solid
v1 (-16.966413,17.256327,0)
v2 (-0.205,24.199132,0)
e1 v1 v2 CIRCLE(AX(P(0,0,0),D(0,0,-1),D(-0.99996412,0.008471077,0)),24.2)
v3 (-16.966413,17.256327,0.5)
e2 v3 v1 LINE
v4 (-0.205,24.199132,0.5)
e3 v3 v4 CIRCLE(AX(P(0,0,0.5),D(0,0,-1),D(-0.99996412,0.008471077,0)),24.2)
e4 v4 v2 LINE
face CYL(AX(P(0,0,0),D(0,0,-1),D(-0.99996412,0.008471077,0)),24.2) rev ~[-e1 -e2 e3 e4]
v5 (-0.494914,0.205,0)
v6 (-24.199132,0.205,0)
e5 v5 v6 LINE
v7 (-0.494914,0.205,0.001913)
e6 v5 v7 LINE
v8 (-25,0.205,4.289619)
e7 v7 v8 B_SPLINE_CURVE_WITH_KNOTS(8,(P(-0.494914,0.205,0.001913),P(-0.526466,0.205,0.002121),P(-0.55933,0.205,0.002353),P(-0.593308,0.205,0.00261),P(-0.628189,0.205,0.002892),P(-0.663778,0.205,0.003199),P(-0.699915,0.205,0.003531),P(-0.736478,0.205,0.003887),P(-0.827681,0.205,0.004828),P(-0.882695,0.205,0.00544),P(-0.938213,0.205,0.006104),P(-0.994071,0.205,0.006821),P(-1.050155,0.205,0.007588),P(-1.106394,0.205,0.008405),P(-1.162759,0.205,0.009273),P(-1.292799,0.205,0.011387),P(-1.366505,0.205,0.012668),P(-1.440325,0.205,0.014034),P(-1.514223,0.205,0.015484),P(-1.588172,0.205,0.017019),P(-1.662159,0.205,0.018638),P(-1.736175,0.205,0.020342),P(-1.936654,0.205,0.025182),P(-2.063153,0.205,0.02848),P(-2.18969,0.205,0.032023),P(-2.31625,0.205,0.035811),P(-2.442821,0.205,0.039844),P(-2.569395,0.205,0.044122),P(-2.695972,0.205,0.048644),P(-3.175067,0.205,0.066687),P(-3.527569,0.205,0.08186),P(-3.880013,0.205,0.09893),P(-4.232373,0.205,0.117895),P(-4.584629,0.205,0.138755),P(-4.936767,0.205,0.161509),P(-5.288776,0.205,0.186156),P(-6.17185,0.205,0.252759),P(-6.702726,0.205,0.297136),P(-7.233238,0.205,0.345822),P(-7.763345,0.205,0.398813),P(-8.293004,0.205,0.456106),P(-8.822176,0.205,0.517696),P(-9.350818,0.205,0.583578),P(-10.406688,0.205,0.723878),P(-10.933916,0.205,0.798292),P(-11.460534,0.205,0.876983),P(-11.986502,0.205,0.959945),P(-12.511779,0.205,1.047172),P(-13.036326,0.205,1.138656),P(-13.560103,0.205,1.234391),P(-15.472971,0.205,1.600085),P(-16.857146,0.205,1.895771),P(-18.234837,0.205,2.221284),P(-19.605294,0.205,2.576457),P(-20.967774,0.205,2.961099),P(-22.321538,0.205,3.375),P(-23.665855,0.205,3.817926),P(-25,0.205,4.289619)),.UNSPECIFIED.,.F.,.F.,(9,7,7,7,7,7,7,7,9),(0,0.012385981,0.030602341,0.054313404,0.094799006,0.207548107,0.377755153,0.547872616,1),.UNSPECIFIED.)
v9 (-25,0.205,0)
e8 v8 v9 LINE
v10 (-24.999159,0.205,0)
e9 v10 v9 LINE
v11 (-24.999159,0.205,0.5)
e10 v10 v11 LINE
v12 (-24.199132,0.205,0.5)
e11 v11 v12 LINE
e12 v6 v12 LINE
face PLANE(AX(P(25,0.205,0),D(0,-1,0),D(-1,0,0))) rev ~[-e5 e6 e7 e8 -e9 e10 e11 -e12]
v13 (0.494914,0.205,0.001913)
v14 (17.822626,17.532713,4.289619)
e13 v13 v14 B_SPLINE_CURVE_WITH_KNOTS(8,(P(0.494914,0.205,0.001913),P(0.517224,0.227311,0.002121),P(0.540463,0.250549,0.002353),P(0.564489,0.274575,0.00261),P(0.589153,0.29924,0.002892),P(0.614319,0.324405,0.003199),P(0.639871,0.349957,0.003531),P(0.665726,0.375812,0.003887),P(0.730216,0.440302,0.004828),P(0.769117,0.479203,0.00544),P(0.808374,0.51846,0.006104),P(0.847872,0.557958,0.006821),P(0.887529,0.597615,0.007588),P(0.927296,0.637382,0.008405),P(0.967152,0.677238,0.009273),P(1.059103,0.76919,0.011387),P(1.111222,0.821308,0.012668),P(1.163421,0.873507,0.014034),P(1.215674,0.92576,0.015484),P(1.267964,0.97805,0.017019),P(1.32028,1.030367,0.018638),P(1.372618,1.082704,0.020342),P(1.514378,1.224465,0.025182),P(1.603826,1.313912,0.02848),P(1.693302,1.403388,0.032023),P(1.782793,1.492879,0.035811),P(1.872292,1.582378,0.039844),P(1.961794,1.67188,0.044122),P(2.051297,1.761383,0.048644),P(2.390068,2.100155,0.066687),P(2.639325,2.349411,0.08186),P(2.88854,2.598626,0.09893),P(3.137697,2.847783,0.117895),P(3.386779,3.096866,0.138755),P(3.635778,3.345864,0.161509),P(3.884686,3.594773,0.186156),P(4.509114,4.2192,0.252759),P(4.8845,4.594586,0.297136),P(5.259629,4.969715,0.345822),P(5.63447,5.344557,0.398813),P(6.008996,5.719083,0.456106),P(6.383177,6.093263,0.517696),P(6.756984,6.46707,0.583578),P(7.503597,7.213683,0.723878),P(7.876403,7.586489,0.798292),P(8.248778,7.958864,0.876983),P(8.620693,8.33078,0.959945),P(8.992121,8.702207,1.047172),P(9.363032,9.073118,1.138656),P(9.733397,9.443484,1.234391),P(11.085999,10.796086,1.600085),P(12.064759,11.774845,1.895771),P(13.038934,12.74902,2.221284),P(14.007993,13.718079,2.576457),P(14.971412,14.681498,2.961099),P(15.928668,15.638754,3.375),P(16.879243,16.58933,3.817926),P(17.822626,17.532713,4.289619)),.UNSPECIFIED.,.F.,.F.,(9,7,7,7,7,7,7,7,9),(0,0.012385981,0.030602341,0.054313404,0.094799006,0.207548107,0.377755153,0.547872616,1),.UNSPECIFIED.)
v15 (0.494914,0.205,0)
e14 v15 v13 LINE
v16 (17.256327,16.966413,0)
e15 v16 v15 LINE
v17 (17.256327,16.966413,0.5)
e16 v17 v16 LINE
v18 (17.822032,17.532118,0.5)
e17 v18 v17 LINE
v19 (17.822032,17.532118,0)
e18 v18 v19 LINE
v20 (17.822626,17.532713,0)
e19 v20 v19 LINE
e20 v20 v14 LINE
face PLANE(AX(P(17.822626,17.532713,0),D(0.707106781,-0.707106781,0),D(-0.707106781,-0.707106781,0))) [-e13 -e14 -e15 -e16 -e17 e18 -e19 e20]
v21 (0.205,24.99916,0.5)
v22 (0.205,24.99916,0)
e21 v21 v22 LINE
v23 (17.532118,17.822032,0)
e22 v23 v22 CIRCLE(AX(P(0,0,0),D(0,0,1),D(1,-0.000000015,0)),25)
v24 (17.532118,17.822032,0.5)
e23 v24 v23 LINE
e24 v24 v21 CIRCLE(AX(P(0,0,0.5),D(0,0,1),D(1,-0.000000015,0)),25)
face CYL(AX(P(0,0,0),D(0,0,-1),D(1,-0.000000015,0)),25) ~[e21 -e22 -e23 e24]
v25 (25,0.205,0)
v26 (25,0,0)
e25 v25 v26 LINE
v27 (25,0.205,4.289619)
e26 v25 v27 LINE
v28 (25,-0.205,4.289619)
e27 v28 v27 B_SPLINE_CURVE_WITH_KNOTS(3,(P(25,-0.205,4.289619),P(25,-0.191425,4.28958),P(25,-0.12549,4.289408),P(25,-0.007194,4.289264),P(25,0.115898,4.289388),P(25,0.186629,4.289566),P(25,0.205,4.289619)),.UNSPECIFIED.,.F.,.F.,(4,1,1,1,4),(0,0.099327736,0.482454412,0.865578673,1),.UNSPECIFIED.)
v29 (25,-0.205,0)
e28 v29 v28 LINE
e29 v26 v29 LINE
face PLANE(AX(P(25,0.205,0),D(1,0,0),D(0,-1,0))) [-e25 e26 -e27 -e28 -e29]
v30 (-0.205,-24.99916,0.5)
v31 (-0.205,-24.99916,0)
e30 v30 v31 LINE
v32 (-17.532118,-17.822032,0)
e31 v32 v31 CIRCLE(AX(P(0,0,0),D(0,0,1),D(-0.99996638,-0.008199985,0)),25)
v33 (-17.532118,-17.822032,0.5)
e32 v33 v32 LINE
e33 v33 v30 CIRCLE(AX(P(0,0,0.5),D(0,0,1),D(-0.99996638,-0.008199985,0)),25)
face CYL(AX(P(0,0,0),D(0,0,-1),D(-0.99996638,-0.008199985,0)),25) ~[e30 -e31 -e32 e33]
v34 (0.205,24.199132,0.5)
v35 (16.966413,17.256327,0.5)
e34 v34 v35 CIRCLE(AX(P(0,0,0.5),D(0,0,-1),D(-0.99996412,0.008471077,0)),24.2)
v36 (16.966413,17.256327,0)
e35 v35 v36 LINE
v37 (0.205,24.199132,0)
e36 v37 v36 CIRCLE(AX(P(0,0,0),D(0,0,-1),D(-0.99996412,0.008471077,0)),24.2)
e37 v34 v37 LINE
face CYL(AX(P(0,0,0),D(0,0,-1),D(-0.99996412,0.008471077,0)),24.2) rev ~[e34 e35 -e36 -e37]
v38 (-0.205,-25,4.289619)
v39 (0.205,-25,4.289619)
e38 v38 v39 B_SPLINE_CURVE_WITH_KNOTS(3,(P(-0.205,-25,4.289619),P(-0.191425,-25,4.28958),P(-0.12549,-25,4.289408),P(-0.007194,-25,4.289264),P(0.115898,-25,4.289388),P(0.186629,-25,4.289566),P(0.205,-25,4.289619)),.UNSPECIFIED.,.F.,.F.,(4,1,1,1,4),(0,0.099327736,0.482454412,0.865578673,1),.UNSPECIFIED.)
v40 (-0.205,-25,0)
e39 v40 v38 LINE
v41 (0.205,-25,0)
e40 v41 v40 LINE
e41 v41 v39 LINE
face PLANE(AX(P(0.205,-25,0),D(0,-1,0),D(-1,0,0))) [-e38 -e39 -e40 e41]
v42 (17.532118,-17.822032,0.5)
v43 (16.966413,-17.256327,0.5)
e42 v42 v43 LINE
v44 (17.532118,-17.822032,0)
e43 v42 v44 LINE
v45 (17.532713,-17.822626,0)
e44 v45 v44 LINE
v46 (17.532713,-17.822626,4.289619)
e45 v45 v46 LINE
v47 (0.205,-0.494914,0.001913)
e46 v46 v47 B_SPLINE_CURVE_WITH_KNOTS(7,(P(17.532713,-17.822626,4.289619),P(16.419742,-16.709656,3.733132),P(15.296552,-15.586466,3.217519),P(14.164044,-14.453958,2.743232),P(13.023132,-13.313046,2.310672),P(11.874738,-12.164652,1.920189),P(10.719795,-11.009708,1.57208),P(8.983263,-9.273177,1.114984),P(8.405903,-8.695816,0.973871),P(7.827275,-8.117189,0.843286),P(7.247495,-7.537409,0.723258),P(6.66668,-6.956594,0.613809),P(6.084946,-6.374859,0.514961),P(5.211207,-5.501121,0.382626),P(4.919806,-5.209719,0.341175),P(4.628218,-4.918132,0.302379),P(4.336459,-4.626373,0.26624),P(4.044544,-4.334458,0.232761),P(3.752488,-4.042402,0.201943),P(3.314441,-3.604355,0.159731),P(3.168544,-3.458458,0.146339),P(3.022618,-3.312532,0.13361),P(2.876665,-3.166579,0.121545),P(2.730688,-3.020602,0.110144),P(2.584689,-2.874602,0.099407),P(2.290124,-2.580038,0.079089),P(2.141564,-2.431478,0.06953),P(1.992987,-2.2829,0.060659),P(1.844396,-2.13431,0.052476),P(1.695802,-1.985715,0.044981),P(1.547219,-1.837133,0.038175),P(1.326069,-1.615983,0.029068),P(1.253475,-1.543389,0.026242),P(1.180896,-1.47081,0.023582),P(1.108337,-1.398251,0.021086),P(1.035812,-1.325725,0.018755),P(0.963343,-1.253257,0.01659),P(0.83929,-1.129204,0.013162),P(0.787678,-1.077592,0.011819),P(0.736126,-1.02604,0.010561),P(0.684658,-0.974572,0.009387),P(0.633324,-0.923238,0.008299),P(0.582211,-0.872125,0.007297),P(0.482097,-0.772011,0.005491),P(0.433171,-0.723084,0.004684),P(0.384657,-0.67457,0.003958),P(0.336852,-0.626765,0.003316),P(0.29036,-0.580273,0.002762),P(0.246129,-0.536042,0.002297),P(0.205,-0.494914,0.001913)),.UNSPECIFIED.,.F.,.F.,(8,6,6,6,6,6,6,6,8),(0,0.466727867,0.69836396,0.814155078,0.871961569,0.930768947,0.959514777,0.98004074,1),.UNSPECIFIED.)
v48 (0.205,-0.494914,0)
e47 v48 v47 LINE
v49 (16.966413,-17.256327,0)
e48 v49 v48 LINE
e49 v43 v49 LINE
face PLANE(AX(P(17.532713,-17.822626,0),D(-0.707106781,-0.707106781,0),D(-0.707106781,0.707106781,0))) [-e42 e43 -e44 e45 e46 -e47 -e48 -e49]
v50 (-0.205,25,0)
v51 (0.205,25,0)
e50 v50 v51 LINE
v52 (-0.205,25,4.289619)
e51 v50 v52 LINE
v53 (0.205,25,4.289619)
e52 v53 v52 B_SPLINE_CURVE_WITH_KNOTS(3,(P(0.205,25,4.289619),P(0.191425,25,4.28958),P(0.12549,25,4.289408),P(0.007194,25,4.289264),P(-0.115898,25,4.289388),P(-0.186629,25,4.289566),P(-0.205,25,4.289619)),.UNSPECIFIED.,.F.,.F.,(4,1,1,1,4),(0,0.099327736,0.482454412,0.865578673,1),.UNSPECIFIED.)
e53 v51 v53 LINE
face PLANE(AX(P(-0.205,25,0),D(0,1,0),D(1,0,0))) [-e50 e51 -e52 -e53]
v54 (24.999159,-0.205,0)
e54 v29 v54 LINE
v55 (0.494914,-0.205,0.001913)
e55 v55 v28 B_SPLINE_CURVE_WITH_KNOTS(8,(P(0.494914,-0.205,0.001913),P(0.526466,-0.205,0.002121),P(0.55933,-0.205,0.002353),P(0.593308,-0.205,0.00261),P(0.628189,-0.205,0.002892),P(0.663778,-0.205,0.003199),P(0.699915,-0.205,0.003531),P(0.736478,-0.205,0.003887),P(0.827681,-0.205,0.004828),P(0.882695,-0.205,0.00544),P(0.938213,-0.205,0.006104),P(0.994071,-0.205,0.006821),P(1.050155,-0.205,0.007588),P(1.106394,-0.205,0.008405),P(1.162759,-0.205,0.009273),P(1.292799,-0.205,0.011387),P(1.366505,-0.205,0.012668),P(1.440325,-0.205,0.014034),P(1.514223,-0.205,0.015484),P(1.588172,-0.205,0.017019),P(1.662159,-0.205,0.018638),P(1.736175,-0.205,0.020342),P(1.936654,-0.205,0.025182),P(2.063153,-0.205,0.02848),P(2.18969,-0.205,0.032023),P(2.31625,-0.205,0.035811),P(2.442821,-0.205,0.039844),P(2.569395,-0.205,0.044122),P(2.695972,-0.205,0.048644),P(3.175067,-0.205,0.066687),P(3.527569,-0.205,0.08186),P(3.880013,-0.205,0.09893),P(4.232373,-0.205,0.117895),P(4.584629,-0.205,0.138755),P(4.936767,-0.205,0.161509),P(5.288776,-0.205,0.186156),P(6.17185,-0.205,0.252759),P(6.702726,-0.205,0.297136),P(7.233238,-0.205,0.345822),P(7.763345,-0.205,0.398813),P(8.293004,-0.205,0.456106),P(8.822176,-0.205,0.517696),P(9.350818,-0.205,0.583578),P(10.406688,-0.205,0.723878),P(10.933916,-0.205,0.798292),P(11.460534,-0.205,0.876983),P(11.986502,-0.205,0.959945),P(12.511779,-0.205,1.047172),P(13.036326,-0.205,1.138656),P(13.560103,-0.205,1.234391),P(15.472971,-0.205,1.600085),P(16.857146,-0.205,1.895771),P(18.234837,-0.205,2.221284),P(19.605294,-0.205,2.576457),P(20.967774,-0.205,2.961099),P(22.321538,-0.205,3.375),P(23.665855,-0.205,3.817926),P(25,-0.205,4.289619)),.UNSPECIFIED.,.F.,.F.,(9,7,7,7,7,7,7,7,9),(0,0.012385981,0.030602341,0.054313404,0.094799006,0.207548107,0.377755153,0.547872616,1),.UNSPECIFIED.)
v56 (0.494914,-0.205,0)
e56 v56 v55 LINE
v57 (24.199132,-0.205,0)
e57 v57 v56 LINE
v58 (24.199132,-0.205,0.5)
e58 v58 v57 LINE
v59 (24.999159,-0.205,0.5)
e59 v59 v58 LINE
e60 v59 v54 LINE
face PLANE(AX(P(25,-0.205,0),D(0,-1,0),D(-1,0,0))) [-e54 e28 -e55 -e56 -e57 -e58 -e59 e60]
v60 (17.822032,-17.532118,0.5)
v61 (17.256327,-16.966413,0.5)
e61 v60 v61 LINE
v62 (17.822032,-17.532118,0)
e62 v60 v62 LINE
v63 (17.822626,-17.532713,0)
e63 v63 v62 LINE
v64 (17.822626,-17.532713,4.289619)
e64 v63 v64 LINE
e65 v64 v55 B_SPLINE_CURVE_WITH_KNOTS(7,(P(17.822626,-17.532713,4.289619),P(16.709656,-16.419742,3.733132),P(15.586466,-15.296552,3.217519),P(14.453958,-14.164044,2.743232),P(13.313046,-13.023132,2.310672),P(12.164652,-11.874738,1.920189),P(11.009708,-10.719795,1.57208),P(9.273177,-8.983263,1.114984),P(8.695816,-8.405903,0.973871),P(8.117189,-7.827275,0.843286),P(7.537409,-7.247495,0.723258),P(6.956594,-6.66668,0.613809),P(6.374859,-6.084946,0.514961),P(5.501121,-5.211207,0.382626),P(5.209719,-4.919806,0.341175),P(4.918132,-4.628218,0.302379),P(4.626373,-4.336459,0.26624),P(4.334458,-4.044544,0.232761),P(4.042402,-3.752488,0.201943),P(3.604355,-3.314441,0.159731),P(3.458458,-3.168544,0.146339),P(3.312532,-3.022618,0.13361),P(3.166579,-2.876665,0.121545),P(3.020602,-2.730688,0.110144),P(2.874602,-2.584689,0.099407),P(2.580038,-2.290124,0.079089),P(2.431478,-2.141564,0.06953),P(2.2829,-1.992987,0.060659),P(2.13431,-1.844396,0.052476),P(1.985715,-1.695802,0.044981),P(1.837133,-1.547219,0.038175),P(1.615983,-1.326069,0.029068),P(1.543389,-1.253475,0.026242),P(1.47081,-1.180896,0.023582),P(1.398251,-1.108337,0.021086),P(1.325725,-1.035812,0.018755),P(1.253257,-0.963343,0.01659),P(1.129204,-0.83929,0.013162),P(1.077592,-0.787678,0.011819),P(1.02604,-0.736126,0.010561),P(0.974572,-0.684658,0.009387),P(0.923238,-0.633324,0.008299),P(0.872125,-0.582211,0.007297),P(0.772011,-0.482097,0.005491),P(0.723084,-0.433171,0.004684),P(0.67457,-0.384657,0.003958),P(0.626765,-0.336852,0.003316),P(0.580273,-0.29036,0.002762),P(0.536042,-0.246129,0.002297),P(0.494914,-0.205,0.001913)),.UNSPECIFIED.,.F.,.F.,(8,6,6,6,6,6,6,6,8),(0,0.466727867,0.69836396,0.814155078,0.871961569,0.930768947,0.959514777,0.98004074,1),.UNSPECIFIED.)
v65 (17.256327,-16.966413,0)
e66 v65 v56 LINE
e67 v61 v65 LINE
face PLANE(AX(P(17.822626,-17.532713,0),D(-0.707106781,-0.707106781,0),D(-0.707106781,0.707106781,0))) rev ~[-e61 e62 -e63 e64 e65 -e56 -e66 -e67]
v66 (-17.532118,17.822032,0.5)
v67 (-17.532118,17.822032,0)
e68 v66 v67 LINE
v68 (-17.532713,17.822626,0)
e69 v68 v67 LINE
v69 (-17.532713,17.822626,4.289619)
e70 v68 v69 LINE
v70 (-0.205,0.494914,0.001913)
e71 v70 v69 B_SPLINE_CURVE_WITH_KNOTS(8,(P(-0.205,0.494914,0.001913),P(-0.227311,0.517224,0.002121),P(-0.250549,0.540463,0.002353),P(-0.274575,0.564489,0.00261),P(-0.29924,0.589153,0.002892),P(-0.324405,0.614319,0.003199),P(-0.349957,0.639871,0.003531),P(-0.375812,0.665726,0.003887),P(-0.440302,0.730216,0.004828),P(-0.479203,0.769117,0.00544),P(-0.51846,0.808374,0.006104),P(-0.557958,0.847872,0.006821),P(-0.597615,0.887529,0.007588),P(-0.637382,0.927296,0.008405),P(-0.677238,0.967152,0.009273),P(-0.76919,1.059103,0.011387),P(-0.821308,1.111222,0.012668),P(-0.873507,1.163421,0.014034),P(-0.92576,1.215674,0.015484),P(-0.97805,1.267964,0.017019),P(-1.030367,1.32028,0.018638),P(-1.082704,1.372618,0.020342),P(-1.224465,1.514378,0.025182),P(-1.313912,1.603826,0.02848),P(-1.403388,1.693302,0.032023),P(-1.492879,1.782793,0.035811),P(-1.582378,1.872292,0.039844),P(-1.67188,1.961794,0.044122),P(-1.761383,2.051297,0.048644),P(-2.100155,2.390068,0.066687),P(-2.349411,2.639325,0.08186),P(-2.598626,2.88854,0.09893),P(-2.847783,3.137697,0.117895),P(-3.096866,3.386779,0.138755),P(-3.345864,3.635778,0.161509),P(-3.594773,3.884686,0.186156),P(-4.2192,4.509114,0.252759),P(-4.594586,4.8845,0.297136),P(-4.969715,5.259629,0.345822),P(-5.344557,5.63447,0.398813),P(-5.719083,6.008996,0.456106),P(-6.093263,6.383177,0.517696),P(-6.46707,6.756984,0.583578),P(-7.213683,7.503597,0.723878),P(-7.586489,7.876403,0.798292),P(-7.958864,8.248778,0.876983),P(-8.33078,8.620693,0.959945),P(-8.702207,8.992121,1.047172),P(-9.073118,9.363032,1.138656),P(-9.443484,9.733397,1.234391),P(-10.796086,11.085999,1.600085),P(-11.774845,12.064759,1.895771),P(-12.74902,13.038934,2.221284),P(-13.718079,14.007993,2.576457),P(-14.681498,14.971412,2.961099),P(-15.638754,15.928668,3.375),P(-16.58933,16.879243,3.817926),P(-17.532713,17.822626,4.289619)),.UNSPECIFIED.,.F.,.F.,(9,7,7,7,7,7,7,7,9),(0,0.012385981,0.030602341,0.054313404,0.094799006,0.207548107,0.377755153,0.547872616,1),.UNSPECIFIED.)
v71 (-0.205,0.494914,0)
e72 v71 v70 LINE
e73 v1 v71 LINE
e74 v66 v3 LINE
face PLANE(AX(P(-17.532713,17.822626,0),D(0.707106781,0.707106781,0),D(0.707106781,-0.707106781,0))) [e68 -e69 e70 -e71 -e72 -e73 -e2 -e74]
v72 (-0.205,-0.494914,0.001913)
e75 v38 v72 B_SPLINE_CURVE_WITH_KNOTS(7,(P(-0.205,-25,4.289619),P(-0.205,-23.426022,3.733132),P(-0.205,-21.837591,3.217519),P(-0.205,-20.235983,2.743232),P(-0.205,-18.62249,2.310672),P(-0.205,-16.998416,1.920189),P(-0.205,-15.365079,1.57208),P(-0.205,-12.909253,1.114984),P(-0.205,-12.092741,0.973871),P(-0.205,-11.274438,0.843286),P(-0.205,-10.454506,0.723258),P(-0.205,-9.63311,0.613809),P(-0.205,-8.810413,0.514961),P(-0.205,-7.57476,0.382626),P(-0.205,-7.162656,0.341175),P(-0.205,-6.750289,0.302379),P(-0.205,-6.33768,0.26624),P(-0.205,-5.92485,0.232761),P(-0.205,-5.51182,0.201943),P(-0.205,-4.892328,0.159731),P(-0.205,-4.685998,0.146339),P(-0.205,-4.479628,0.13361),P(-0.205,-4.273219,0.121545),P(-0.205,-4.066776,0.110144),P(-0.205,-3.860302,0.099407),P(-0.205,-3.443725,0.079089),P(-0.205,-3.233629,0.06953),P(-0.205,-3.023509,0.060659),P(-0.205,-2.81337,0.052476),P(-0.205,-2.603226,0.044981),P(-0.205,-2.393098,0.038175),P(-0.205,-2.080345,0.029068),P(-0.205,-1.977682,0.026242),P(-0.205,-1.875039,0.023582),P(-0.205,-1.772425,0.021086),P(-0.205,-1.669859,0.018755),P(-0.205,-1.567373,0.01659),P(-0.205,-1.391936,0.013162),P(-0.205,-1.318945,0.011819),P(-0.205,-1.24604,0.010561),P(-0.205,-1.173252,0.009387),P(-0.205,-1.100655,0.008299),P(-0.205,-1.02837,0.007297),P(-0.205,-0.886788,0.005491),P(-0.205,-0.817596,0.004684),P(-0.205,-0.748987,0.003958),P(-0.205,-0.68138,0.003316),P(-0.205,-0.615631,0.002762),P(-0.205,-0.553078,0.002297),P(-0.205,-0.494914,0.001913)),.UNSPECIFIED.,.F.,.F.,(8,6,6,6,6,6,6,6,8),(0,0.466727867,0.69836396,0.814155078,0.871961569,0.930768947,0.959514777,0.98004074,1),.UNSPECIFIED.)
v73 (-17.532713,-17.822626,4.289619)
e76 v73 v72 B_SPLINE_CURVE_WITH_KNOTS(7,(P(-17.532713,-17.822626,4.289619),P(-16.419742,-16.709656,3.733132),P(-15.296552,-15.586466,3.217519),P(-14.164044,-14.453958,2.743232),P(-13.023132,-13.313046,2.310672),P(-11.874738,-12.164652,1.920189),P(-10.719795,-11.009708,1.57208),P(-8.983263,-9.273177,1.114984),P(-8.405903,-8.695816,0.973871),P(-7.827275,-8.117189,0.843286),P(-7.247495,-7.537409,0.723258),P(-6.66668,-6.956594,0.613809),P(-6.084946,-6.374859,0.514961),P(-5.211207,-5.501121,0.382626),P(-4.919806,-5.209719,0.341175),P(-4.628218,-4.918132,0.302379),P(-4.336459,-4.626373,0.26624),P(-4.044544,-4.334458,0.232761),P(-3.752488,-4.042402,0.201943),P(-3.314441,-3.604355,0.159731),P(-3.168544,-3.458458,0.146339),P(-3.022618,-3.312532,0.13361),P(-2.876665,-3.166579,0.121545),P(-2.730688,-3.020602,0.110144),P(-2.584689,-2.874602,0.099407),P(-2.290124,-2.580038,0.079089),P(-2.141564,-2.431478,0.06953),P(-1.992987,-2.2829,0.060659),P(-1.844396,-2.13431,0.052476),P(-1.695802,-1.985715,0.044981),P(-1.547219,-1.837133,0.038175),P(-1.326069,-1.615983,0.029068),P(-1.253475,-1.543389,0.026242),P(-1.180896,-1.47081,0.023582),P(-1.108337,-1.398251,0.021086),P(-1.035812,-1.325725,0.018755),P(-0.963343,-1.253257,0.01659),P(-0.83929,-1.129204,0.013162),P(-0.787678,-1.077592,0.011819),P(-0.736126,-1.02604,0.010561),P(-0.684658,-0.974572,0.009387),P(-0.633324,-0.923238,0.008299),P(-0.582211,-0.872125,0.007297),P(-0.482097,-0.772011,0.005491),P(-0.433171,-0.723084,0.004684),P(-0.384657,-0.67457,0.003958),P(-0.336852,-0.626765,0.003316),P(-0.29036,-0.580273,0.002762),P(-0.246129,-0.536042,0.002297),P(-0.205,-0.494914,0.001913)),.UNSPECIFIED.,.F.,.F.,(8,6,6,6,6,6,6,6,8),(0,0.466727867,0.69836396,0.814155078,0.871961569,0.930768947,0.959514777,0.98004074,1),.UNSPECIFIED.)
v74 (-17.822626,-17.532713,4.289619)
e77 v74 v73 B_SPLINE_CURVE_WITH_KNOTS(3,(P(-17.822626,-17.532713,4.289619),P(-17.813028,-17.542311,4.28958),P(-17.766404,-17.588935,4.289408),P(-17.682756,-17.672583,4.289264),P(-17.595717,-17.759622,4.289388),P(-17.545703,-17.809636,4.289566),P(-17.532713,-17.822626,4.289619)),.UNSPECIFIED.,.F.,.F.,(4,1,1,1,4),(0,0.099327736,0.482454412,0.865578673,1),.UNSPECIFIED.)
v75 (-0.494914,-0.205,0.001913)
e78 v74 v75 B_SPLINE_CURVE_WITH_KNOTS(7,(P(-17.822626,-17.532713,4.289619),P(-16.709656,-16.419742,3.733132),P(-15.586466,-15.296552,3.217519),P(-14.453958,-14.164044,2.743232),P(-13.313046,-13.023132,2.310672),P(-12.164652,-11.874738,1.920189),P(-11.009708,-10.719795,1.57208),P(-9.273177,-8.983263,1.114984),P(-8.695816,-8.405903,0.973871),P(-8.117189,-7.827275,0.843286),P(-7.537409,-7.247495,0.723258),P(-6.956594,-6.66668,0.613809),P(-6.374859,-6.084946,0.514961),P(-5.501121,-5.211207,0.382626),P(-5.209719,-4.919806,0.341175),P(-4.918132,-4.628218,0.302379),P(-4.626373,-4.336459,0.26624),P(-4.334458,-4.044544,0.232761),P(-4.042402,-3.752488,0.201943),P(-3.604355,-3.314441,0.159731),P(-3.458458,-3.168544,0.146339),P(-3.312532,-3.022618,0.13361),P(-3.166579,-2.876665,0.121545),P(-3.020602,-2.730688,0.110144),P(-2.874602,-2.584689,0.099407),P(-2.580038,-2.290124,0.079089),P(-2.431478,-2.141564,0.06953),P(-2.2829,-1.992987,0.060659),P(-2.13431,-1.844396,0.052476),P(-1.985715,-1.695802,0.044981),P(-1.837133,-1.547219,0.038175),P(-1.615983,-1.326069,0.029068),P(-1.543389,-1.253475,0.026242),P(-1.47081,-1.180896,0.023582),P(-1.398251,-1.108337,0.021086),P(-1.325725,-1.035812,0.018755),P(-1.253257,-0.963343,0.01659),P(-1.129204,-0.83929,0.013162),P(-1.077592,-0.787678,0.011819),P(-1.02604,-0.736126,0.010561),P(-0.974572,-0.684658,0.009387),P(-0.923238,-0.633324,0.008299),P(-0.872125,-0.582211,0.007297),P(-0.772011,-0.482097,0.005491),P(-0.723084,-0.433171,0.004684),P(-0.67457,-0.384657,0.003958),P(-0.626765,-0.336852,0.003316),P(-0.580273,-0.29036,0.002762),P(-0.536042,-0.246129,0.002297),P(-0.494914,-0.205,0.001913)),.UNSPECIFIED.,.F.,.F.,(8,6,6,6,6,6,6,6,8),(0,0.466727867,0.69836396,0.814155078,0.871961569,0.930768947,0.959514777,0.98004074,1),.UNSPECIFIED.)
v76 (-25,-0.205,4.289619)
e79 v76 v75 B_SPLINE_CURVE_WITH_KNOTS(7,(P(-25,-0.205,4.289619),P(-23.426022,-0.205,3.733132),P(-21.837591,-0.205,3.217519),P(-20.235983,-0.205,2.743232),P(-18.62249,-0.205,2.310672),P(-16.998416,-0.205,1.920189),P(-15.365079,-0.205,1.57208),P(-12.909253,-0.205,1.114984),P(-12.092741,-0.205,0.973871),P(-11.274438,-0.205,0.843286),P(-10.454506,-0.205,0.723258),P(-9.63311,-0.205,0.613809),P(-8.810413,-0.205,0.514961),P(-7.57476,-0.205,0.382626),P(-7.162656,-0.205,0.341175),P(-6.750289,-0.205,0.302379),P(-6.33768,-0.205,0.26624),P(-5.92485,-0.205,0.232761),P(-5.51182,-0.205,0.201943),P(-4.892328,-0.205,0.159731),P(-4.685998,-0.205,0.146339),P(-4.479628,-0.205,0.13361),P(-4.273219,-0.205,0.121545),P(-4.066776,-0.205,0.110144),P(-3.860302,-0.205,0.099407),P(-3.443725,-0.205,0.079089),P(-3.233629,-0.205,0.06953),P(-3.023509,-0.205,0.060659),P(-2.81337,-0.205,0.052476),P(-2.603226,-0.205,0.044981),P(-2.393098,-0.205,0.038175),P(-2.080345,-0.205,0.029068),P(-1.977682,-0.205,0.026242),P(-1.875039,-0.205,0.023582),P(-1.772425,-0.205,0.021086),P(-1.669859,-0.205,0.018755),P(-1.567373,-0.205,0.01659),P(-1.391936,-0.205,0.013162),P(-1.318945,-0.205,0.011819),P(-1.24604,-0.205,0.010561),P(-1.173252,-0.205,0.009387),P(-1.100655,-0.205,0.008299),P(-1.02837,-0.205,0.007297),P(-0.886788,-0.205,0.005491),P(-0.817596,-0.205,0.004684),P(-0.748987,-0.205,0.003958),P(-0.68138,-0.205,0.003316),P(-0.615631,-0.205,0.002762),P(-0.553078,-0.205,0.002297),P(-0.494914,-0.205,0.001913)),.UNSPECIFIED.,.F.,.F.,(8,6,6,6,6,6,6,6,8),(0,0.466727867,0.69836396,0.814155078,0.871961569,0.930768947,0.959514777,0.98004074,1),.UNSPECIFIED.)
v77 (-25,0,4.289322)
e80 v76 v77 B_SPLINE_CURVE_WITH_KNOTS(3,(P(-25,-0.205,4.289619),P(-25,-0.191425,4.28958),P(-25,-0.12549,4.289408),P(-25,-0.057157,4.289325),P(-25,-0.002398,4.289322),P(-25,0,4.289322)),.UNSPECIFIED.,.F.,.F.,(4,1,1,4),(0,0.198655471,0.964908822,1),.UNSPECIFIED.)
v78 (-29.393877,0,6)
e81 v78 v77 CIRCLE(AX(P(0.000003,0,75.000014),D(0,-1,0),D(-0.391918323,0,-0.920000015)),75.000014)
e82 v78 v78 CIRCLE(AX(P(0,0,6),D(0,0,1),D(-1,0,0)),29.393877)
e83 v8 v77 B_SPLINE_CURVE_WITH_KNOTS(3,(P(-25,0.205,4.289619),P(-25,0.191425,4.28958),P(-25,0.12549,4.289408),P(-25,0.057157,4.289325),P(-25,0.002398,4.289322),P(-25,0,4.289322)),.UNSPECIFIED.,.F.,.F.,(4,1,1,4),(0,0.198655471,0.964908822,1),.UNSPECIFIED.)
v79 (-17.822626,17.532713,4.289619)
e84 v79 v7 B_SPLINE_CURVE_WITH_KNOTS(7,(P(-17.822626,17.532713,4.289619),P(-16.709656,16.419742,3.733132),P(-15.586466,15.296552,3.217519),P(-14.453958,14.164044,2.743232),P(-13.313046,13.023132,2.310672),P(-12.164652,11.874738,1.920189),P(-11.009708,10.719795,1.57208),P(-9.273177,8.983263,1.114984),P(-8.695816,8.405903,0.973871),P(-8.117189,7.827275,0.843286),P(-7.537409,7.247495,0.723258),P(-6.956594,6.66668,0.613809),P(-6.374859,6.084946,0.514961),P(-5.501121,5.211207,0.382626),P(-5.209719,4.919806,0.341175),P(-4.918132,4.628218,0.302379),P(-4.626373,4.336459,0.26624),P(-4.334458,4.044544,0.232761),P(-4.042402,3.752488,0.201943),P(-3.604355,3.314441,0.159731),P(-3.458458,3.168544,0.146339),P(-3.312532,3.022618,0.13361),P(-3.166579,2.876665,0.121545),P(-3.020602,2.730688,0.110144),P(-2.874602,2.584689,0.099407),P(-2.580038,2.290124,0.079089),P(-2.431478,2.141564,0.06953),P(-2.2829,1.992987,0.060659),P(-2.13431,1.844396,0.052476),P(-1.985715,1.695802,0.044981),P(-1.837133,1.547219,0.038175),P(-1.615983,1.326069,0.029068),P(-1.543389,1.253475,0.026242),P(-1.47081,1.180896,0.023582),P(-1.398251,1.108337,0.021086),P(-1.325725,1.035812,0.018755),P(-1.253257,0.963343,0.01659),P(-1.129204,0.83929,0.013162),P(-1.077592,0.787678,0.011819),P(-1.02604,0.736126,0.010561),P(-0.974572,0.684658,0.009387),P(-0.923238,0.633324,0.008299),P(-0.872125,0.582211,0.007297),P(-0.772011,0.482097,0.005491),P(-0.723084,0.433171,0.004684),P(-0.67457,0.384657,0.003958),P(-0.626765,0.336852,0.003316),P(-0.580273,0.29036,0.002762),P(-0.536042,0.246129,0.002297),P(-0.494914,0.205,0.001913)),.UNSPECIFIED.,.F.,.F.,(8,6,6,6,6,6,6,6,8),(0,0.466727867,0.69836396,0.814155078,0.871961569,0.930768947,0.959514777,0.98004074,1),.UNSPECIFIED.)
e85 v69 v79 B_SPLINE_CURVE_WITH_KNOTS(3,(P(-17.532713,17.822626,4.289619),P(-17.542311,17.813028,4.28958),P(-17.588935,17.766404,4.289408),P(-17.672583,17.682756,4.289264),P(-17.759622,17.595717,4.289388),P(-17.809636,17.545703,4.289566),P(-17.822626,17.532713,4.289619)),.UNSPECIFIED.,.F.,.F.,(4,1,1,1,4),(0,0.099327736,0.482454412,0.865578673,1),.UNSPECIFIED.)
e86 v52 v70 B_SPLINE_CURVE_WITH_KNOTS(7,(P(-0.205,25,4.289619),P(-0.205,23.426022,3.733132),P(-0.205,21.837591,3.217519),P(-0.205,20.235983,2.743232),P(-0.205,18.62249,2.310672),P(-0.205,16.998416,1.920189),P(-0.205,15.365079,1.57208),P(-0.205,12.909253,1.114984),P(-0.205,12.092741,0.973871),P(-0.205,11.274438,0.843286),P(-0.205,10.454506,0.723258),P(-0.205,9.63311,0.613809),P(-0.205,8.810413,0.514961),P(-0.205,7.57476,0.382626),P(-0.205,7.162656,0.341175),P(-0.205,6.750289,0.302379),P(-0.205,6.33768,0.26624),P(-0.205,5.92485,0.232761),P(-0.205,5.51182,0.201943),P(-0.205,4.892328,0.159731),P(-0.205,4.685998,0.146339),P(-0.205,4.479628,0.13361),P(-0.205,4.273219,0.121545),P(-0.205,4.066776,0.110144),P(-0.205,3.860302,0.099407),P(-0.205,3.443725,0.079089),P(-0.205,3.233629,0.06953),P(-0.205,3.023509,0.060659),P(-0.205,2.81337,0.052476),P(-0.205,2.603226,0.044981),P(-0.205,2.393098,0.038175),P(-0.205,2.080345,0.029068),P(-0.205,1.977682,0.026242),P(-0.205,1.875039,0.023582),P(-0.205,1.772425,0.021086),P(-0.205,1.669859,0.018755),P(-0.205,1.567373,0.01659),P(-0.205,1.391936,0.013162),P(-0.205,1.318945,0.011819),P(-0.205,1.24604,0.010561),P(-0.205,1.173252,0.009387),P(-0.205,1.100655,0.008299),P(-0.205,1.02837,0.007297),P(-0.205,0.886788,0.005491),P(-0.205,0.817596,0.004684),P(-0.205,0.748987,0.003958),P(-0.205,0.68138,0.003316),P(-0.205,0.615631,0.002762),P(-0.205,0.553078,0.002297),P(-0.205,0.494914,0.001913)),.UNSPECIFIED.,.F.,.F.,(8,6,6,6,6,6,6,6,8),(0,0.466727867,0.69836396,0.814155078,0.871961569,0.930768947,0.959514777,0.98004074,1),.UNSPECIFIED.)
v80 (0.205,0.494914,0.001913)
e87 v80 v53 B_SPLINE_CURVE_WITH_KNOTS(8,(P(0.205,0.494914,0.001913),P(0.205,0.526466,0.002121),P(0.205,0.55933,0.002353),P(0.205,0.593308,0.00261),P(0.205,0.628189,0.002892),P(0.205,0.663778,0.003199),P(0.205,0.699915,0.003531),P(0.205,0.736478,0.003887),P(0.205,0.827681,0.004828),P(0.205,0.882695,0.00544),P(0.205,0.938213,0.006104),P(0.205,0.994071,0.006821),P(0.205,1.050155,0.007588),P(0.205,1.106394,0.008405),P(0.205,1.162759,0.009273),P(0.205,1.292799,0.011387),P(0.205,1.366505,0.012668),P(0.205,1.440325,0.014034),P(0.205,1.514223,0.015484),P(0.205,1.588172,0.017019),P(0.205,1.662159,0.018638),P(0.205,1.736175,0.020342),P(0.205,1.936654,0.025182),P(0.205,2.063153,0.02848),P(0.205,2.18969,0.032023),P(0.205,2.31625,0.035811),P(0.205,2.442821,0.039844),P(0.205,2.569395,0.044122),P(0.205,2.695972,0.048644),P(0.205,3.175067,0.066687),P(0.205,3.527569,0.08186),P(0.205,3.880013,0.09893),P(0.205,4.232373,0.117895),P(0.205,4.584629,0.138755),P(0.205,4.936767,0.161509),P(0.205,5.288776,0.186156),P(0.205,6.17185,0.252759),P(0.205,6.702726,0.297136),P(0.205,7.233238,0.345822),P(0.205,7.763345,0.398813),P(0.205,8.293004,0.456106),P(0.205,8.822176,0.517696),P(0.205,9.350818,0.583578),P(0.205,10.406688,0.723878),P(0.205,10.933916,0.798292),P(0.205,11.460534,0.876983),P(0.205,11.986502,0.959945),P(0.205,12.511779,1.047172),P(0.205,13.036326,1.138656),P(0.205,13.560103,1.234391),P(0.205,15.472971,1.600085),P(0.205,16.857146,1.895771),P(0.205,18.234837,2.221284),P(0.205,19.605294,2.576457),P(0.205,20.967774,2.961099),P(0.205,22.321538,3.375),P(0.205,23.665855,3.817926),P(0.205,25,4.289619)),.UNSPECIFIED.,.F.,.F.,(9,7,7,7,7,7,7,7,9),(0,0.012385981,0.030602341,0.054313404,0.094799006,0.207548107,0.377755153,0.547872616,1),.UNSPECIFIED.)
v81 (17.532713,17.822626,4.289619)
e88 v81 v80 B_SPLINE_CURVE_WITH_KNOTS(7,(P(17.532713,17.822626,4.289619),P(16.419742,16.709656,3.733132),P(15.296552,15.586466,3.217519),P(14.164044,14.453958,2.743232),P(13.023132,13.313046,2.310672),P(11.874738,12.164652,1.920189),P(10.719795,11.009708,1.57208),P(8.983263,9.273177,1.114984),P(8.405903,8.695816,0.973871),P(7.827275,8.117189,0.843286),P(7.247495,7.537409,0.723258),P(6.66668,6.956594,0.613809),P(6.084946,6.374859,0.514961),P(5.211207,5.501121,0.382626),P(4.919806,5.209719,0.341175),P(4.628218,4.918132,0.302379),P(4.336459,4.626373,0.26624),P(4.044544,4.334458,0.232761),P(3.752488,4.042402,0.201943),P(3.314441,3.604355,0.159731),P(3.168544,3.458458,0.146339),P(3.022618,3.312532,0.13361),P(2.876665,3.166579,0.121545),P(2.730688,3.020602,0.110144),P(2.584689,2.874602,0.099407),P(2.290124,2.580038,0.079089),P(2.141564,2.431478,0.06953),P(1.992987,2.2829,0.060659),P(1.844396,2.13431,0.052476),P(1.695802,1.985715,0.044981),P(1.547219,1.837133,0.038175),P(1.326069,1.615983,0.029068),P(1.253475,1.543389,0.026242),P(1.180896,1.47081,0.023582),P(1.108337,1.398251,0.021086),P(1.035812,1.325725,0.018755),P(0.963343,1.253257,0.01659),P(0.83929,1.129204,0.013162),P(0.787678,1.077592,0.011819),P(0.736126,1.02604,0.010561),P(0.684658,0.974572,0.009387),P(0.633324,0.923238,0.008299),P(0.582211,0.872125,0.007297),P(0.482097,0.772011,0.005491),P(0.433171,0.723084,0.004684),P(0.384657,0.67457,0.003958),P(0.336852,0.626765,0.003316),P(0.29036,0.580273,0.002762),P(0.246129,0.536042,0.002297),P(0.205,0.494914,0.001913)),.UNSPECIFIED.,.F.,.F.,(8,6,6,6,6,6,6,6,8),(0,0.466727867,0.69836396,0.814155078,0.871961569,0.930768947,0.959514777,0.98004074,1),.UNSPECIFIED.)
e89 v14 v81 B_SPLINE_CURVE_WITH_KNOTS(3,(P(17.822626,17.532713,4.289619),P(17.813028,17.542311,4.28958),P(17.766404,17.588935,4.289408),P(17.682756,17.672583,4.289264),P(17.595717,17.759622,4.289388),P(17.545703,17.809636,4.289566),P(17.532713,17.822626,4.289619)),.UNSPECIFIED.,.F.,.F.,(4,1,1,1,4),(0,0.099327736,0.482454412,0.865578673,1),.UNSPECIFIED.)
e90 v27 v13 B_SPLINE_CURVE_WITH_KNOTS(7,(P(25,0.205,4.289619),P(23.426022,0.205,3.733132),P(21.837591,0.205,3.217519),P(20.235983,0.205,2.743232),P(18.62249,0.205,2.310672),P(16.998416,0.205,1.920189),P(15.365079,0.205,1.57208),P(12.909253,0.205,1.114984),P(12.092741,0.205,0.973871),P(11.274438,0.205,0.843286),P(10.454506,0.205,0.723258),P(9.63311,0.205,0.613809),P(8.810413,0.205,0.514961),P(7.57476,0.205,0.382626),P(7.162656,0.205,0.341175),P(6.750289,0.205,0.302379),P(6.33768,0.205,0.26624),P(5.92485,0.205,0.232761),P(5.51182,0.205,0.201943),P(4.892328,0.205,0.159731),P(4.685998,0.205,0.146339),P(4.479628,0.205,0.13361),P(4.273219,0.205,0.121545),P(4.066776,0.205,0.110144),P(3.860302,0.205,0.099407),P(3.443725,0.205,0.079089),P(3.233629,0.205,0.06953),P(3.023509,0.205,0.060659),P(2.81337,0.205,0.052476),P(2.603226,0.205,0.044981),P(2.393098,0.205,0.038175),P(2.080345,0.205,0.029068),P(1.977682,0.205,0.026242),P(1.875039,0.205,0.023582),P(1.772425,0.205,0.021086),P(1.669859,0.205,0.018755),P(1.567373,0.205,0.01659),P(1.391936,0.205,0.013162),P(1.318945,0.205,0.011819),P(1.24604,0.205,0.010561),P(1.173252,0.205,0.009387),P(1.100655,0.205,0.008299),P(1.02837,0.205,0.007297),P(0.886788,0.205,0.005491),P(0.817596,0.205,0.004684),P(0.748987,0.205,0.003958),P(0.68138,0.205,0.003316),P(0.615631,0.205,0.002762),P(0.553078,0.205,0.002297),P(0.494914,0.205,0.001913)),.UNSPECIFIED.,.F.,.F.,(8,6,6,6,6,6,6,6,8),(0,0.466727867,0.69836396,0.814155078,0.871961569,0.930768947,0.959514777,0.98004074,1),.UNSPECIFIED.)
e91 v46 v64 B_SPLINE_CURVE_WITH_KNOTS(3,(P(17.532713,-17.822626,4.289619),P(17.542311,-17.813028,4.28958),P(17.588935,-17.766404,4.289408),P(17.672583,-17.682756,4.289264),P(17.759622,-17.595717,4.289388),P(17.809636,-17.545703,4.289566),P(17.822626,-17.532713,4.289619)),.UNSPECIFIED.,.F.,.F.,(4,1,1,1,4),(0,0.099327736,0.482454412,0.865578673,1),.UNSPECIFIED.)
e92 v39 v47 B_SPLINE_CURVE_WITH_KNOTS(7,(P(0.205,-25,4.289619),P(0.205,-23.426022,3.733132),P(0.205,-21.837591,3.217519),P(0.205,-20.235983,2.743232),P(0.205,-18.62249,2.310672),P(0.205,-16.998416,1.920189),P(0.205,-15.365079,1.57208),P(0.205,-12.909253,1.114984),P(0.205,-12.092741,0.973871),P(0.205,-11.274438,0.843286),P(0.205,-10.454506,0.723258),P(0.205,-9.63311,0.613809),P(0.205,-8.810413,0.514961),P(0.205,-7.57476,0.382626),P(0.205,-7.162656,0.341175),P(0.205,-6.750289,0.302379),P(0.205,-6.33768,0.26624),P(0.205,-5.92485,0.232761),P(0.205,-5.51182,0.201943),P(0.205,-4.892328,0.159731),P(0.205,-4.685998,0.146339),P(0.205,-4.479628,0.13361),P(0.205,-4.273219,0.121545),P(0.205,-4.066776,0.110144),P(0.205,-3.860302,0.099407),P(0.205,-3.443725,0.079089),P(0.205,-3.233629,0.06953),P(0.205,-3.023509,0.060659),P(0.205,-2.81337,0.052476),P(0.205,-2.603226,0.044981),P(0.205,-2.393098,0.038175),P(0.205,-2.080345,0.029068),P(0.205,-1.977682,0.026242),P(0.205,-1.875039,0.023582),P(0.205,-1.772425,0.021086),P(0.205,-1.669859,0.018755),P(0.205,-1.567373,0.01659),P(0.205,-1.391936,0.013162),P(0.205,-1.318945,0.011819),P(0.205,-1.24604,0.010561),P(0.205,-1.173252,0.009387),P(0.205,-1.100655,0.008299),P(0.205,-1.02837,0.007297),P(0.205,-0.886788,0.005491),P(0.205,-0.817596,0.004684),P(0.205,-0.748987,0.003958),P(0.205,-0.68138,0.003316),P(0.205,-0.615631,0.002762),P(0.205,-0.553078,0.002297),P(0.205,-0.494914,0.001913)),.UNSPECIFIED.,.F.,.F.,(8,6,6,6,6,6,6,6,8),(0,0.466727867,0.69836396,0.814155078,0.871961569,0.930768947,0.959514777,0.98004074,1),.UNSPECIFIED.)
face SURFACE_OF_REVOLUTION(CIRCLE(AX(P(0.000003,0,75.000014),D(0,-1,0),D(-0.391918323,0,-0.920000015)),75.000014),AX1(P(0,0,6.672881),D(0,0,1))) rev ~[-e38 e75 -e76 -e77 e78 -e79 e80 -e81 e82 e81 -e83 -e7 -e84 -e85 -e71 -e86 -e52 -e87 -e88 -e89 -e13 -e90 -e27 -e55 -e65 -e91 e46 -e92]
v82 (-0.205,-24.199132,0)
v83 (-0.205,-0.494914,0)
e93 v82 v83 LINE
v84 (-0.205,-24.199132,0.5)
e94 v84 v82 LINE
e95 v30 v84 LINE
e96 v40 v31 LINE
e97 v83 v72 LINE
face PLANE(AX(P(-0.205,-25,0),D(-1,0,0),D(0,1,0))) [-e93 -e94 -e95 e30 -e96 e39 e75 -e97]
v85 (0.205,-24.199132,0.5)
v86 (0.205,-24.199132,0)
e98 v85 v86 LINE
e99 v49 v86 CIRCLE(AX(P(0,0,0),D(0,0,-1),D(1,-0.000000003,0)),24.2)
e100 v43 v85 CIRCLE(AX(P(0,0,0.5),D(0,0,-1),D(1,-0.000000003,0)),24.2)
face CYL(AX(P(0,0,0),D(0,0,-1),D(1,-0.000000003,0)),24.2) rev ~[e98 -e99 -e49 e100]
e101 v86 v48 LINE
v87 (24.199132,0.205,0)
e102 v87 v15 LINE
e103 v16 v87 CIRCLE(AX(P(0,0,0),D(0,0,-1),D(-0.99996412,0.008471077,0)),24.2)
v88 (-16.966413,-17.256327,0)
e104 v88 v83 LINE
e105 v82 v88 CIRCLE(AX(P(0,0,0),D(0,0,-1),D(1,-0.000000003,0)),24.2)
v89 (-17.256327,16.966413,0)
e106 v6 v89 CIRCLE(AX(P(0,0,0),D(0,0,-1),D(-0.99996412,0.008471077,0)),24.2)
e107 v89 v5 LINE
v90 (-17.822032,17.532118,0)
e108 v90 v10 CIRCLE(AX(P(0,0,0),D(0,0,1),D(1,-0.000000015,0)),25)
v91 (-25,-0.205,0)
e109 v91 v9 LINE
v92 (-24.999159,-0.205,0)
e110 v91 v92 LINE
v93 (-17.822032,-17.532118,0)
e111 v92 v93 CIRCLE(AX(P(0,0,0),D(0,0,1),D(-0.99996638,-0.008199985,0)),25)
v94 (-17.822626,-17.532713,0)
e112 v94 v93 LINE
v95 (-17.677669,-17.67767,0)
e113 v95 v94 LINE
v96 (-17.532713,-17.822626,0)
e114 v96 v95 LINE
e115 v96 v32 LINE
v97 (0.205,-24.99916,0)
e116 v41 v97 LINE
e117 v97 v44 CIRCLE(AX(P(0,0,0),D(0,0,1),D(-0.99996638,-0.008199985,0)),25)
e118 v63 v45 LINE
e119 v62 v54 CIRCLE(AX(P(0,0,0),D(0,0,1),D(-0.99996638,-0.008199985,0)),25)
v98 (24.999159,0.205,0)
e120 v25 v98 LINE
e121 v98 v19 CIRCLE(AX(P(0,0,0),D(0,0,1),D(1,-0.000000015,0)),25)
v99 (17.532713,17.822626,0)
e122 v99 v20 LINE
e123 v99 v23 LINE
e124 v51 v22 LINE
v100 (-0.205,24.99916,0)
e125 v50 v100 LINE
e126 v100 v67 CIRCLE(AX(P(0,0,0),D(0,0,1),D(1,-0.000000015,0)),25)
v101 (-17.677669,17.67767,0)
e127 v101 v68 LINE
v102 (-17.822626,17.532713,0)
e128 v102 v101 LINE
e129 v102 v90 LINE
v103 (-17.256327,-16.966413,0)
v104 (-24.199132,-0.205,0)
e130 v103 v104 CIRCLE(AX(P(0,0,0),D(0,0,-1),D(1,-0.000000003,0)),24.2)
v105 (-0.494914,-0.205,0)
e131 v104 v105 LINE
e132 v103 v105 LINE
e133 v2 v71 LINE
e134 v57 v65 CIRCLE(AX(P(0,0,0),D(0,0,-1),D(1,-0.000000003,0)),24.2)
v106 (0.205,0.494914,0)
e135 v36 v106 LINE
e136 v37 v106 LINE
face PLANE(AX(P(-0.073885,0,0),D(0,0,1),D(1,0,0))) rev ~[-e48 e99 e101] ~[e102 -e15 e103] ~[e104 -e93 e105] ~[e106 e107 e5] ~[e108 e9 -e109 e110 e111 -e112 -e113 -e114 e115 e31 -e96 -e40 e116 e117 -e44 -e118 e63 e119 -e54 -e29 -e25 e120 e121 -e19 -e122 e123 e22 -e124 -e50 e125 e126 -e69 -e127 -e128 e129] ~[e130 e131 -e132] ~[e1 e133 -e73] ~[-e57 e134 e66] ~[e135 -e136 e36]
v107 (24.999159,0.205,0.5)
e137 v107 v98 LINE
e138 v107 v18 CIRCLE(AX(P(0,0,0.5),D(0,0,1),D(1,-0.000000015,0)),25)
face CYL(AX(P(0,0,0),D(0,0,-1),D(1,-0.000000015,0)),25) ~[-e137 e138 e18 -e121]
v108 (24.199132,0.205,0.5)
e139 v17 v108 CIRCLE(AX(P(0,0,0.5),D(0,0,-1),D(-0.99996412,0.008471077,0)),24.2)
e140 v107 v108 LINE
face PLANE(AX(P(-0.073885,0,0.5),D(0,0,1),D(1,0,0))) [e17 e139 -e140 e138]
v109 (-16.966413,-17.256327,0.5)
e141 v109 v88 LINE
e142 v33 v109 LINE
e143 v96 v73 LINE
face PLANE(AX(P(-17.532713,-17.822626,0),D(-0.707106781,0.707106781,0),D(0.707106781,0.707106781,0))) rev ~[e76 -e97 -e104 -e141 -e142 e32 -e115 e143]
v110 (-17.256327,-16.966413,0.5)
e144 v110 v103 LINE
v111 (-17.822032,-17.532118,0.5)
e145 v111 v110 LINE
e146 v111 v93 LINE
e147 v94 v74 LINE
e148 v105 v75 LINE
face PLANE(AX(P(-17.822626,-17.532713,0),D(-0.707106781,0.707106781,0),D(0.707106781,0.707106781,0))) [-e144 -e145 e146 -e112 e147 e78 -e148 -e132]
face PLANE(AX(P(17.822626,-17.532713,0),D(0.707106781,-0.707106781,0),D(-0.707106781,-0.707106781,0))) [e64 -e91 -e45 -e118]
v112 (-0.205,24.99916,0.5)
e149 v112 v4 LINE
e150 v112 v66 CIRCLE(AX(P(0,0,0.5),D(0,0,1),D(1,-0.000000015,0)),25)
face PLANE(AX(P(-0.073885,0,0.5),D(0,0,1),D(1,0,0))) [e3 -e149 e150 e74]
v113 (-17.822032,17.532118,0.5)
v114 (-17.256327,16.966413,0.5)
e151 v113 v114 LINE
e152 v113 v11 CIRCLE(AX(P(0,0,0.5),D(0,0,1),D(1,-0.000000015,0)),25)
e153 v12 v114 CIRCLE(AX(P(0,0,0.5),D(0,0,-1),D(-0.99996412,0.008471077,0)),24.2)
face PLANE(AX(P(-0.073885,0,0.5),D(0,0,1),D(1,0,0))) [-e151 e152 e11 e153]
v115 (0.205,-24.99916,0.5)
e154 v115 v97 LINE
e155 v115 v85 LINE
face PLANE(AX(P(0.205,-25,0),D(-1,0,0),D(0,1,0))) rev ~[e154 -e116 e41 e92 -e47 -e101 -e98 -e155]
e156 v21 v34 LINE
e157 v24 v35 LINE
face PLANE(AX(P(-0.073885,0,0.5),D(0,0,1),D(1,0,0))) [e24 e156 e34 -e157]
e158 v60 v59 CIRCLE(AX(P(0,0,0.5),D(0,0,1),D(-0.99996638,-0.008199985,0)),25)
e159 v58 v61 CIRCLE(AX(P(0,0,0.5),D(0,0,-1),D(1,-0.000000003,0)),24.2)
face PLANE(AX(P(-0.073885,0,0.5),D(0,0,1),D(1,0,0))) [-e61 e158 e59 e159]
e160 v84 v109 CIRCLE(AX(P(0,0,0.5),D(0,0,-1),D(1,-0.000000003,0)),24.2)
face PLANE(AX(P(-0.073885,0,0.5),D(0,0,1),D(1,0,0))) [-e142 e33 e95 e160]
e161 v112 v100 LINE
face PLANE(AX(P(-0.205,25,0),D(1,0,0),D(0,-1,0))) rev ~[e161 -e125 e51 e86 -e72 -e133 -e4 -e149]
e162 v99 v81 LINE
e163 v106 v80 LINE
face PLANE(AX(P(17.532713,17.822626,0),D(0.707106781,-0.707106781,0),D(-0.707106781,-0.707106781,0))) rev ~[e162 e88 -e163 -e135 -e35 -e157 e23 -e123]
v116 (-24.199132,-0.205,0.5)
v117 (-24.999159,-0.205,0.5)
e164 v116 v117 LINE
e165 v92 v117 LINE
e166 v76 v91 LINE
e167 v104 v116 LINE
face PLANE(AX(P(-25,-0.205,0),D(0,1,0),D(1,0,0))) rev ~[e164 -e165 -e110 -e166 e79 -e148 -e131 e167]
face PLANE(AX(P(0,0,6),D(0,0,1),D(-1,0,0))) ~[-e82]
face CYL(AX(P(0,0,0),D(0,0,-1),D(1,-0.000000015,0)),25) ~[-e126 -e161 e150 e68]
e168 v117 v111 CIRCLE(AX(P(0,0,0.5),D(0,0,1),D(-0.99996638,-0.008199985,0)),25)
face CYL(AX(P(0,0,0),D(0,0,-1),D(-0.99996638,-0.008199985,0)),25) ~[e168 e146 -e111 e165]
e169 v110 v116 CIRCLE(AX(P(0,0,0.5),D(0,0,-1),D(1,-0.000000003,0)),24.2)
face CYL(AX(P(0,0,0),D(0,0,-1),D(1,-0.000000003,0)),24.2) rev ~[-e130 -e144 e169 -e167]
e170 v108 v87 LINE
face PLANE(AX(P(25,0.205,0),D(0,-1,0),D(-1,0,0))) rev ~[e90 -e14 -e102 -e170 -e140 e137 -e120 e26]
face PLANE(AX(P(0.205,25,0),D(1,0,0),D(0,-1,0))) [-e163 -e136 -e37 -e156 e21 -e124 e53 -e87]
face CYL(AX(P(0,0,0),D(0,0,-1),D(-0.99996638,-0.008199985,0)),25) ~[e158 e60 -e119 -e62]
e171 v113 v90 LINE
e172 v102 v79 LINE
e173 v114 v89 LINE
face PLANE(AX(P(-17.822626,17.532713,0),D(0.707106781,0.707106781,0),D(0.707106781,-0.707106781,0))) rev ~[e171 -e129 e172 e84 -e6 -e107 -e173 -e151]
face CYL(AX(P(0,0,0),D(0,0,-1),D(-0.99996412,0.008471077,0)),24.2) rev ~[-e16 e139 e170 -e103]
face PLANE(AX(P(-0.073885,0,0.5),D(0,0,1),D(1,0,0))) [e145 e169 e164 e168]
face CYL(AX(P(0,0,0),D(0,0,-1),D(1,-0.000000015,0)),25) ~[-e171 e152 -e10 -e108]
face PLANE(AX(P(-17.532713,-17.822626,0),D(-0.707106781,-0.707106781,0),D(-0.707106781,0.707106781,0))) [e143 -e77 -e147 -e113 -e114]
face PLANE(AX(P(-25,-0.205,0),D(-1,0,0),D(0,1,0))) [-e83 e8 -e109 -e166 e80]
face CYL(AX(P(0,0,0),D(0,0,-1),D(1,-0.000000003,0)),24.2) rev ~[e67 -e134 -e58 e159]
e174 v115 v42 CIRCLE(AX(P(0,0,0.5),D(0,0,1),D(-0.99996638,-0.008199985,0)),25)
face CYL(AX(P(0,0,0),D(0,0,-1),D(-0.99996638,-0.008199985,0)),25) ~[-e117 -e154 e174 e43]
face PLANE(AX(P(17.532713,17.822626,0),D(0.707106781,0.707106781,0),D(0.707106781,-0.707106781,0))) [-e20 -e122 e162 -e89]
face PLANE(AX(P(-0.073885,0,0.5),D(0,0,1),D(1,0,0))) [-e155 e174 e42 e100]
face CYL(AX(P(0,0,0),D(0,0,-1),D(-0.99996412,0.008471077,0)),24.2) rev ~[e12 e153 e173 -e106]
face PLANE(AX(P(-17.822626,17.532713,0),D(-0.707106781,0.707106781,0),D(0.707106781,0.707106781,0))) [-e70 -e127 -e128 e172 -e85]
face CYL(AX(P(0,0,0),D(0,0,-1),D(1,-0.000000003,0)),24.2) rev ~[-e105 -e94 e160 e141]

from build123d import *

# Parameters (mm, degrees)
F0_W     = 25
F0_H     = 0.41
F1_DEPTH = 5
F3_COUNT = 8
F7_DEPTH = 0.5


with BuildPart() as f1:
    # F0 (on Top) → F1 (new body)
    with BuildSketch(Plane.XY):
        with Locations((-12.5, 0)):
            Rectangle(F0_W, F0_H)
    extrude(amount=F1_DEPTH)

    # F3: F1 ×8 about axis
    f3_axis = Axis((0, 0, 6.672881), (0, 0, 1))


with BuildPart() as f1_1:
    add(f1.part)
    for i in range(1, F3_COUNT):
        add(f1.part.rotate(f3_axis, i * 360 / F3_COUNT))

    # F4 (on Front) → F5 (revolve)
    with BuildSketch(Plane.XZ):
        with BuildLine():
            Line((0, 6), (-29.393877, 6))
            ThreePointArc((-29.393877, 6), (-15, 1.515308), (0, 0))
            Line((0, 0), (0, 6))
        make_face()
    revolve(axis=Axis((0, 0, 6.672881), (0, 0, 1)))

    # F6 (on Top) → F7 (join)
    with BuildSketch(Plane.XY):
        with BuildLine():
            ThreePointArc((-24.999159, -0.205), (0.102501, -24.99979), (25, 0))
            ThreePointArc((25, 0), (0.102501, 24.99979), (-24.999159, 0.205))
            Line((-24.999159, 0.205), (-24.199132, 0.205))
            ThreePointArc((-24.199132, 0.205), (0.102501, 24.199783), (24.2, 0))
            ThreePointArc((24.2, 0), (0.102501, -24.199783), (-24.199132, -0.205))
            Line((-24.199132, -0.205), (-24.999159, -0.205))
        make_face()
        with BuildLine():
            ThreePointArc((-25, 0), (-24.99979, 0.102501), (-24.999159, 0.205))
            Line((-24.999159, 0.205), (-25, 0.205))
            Line((-25, 0.205), (-25, 0))
        make_face()
        with BuildLine():
            Line((-25, -0.205), (-24.999159, -0.205))
            ThreePointArc((-24.999159, -0.205), (-24.99979, -0.102501), (-25, 0))
            Line((-25, 0), (-25, -0.205))
        make_face()
    extrude(amount=F7_DEPTH)


solid = f1_1.part
